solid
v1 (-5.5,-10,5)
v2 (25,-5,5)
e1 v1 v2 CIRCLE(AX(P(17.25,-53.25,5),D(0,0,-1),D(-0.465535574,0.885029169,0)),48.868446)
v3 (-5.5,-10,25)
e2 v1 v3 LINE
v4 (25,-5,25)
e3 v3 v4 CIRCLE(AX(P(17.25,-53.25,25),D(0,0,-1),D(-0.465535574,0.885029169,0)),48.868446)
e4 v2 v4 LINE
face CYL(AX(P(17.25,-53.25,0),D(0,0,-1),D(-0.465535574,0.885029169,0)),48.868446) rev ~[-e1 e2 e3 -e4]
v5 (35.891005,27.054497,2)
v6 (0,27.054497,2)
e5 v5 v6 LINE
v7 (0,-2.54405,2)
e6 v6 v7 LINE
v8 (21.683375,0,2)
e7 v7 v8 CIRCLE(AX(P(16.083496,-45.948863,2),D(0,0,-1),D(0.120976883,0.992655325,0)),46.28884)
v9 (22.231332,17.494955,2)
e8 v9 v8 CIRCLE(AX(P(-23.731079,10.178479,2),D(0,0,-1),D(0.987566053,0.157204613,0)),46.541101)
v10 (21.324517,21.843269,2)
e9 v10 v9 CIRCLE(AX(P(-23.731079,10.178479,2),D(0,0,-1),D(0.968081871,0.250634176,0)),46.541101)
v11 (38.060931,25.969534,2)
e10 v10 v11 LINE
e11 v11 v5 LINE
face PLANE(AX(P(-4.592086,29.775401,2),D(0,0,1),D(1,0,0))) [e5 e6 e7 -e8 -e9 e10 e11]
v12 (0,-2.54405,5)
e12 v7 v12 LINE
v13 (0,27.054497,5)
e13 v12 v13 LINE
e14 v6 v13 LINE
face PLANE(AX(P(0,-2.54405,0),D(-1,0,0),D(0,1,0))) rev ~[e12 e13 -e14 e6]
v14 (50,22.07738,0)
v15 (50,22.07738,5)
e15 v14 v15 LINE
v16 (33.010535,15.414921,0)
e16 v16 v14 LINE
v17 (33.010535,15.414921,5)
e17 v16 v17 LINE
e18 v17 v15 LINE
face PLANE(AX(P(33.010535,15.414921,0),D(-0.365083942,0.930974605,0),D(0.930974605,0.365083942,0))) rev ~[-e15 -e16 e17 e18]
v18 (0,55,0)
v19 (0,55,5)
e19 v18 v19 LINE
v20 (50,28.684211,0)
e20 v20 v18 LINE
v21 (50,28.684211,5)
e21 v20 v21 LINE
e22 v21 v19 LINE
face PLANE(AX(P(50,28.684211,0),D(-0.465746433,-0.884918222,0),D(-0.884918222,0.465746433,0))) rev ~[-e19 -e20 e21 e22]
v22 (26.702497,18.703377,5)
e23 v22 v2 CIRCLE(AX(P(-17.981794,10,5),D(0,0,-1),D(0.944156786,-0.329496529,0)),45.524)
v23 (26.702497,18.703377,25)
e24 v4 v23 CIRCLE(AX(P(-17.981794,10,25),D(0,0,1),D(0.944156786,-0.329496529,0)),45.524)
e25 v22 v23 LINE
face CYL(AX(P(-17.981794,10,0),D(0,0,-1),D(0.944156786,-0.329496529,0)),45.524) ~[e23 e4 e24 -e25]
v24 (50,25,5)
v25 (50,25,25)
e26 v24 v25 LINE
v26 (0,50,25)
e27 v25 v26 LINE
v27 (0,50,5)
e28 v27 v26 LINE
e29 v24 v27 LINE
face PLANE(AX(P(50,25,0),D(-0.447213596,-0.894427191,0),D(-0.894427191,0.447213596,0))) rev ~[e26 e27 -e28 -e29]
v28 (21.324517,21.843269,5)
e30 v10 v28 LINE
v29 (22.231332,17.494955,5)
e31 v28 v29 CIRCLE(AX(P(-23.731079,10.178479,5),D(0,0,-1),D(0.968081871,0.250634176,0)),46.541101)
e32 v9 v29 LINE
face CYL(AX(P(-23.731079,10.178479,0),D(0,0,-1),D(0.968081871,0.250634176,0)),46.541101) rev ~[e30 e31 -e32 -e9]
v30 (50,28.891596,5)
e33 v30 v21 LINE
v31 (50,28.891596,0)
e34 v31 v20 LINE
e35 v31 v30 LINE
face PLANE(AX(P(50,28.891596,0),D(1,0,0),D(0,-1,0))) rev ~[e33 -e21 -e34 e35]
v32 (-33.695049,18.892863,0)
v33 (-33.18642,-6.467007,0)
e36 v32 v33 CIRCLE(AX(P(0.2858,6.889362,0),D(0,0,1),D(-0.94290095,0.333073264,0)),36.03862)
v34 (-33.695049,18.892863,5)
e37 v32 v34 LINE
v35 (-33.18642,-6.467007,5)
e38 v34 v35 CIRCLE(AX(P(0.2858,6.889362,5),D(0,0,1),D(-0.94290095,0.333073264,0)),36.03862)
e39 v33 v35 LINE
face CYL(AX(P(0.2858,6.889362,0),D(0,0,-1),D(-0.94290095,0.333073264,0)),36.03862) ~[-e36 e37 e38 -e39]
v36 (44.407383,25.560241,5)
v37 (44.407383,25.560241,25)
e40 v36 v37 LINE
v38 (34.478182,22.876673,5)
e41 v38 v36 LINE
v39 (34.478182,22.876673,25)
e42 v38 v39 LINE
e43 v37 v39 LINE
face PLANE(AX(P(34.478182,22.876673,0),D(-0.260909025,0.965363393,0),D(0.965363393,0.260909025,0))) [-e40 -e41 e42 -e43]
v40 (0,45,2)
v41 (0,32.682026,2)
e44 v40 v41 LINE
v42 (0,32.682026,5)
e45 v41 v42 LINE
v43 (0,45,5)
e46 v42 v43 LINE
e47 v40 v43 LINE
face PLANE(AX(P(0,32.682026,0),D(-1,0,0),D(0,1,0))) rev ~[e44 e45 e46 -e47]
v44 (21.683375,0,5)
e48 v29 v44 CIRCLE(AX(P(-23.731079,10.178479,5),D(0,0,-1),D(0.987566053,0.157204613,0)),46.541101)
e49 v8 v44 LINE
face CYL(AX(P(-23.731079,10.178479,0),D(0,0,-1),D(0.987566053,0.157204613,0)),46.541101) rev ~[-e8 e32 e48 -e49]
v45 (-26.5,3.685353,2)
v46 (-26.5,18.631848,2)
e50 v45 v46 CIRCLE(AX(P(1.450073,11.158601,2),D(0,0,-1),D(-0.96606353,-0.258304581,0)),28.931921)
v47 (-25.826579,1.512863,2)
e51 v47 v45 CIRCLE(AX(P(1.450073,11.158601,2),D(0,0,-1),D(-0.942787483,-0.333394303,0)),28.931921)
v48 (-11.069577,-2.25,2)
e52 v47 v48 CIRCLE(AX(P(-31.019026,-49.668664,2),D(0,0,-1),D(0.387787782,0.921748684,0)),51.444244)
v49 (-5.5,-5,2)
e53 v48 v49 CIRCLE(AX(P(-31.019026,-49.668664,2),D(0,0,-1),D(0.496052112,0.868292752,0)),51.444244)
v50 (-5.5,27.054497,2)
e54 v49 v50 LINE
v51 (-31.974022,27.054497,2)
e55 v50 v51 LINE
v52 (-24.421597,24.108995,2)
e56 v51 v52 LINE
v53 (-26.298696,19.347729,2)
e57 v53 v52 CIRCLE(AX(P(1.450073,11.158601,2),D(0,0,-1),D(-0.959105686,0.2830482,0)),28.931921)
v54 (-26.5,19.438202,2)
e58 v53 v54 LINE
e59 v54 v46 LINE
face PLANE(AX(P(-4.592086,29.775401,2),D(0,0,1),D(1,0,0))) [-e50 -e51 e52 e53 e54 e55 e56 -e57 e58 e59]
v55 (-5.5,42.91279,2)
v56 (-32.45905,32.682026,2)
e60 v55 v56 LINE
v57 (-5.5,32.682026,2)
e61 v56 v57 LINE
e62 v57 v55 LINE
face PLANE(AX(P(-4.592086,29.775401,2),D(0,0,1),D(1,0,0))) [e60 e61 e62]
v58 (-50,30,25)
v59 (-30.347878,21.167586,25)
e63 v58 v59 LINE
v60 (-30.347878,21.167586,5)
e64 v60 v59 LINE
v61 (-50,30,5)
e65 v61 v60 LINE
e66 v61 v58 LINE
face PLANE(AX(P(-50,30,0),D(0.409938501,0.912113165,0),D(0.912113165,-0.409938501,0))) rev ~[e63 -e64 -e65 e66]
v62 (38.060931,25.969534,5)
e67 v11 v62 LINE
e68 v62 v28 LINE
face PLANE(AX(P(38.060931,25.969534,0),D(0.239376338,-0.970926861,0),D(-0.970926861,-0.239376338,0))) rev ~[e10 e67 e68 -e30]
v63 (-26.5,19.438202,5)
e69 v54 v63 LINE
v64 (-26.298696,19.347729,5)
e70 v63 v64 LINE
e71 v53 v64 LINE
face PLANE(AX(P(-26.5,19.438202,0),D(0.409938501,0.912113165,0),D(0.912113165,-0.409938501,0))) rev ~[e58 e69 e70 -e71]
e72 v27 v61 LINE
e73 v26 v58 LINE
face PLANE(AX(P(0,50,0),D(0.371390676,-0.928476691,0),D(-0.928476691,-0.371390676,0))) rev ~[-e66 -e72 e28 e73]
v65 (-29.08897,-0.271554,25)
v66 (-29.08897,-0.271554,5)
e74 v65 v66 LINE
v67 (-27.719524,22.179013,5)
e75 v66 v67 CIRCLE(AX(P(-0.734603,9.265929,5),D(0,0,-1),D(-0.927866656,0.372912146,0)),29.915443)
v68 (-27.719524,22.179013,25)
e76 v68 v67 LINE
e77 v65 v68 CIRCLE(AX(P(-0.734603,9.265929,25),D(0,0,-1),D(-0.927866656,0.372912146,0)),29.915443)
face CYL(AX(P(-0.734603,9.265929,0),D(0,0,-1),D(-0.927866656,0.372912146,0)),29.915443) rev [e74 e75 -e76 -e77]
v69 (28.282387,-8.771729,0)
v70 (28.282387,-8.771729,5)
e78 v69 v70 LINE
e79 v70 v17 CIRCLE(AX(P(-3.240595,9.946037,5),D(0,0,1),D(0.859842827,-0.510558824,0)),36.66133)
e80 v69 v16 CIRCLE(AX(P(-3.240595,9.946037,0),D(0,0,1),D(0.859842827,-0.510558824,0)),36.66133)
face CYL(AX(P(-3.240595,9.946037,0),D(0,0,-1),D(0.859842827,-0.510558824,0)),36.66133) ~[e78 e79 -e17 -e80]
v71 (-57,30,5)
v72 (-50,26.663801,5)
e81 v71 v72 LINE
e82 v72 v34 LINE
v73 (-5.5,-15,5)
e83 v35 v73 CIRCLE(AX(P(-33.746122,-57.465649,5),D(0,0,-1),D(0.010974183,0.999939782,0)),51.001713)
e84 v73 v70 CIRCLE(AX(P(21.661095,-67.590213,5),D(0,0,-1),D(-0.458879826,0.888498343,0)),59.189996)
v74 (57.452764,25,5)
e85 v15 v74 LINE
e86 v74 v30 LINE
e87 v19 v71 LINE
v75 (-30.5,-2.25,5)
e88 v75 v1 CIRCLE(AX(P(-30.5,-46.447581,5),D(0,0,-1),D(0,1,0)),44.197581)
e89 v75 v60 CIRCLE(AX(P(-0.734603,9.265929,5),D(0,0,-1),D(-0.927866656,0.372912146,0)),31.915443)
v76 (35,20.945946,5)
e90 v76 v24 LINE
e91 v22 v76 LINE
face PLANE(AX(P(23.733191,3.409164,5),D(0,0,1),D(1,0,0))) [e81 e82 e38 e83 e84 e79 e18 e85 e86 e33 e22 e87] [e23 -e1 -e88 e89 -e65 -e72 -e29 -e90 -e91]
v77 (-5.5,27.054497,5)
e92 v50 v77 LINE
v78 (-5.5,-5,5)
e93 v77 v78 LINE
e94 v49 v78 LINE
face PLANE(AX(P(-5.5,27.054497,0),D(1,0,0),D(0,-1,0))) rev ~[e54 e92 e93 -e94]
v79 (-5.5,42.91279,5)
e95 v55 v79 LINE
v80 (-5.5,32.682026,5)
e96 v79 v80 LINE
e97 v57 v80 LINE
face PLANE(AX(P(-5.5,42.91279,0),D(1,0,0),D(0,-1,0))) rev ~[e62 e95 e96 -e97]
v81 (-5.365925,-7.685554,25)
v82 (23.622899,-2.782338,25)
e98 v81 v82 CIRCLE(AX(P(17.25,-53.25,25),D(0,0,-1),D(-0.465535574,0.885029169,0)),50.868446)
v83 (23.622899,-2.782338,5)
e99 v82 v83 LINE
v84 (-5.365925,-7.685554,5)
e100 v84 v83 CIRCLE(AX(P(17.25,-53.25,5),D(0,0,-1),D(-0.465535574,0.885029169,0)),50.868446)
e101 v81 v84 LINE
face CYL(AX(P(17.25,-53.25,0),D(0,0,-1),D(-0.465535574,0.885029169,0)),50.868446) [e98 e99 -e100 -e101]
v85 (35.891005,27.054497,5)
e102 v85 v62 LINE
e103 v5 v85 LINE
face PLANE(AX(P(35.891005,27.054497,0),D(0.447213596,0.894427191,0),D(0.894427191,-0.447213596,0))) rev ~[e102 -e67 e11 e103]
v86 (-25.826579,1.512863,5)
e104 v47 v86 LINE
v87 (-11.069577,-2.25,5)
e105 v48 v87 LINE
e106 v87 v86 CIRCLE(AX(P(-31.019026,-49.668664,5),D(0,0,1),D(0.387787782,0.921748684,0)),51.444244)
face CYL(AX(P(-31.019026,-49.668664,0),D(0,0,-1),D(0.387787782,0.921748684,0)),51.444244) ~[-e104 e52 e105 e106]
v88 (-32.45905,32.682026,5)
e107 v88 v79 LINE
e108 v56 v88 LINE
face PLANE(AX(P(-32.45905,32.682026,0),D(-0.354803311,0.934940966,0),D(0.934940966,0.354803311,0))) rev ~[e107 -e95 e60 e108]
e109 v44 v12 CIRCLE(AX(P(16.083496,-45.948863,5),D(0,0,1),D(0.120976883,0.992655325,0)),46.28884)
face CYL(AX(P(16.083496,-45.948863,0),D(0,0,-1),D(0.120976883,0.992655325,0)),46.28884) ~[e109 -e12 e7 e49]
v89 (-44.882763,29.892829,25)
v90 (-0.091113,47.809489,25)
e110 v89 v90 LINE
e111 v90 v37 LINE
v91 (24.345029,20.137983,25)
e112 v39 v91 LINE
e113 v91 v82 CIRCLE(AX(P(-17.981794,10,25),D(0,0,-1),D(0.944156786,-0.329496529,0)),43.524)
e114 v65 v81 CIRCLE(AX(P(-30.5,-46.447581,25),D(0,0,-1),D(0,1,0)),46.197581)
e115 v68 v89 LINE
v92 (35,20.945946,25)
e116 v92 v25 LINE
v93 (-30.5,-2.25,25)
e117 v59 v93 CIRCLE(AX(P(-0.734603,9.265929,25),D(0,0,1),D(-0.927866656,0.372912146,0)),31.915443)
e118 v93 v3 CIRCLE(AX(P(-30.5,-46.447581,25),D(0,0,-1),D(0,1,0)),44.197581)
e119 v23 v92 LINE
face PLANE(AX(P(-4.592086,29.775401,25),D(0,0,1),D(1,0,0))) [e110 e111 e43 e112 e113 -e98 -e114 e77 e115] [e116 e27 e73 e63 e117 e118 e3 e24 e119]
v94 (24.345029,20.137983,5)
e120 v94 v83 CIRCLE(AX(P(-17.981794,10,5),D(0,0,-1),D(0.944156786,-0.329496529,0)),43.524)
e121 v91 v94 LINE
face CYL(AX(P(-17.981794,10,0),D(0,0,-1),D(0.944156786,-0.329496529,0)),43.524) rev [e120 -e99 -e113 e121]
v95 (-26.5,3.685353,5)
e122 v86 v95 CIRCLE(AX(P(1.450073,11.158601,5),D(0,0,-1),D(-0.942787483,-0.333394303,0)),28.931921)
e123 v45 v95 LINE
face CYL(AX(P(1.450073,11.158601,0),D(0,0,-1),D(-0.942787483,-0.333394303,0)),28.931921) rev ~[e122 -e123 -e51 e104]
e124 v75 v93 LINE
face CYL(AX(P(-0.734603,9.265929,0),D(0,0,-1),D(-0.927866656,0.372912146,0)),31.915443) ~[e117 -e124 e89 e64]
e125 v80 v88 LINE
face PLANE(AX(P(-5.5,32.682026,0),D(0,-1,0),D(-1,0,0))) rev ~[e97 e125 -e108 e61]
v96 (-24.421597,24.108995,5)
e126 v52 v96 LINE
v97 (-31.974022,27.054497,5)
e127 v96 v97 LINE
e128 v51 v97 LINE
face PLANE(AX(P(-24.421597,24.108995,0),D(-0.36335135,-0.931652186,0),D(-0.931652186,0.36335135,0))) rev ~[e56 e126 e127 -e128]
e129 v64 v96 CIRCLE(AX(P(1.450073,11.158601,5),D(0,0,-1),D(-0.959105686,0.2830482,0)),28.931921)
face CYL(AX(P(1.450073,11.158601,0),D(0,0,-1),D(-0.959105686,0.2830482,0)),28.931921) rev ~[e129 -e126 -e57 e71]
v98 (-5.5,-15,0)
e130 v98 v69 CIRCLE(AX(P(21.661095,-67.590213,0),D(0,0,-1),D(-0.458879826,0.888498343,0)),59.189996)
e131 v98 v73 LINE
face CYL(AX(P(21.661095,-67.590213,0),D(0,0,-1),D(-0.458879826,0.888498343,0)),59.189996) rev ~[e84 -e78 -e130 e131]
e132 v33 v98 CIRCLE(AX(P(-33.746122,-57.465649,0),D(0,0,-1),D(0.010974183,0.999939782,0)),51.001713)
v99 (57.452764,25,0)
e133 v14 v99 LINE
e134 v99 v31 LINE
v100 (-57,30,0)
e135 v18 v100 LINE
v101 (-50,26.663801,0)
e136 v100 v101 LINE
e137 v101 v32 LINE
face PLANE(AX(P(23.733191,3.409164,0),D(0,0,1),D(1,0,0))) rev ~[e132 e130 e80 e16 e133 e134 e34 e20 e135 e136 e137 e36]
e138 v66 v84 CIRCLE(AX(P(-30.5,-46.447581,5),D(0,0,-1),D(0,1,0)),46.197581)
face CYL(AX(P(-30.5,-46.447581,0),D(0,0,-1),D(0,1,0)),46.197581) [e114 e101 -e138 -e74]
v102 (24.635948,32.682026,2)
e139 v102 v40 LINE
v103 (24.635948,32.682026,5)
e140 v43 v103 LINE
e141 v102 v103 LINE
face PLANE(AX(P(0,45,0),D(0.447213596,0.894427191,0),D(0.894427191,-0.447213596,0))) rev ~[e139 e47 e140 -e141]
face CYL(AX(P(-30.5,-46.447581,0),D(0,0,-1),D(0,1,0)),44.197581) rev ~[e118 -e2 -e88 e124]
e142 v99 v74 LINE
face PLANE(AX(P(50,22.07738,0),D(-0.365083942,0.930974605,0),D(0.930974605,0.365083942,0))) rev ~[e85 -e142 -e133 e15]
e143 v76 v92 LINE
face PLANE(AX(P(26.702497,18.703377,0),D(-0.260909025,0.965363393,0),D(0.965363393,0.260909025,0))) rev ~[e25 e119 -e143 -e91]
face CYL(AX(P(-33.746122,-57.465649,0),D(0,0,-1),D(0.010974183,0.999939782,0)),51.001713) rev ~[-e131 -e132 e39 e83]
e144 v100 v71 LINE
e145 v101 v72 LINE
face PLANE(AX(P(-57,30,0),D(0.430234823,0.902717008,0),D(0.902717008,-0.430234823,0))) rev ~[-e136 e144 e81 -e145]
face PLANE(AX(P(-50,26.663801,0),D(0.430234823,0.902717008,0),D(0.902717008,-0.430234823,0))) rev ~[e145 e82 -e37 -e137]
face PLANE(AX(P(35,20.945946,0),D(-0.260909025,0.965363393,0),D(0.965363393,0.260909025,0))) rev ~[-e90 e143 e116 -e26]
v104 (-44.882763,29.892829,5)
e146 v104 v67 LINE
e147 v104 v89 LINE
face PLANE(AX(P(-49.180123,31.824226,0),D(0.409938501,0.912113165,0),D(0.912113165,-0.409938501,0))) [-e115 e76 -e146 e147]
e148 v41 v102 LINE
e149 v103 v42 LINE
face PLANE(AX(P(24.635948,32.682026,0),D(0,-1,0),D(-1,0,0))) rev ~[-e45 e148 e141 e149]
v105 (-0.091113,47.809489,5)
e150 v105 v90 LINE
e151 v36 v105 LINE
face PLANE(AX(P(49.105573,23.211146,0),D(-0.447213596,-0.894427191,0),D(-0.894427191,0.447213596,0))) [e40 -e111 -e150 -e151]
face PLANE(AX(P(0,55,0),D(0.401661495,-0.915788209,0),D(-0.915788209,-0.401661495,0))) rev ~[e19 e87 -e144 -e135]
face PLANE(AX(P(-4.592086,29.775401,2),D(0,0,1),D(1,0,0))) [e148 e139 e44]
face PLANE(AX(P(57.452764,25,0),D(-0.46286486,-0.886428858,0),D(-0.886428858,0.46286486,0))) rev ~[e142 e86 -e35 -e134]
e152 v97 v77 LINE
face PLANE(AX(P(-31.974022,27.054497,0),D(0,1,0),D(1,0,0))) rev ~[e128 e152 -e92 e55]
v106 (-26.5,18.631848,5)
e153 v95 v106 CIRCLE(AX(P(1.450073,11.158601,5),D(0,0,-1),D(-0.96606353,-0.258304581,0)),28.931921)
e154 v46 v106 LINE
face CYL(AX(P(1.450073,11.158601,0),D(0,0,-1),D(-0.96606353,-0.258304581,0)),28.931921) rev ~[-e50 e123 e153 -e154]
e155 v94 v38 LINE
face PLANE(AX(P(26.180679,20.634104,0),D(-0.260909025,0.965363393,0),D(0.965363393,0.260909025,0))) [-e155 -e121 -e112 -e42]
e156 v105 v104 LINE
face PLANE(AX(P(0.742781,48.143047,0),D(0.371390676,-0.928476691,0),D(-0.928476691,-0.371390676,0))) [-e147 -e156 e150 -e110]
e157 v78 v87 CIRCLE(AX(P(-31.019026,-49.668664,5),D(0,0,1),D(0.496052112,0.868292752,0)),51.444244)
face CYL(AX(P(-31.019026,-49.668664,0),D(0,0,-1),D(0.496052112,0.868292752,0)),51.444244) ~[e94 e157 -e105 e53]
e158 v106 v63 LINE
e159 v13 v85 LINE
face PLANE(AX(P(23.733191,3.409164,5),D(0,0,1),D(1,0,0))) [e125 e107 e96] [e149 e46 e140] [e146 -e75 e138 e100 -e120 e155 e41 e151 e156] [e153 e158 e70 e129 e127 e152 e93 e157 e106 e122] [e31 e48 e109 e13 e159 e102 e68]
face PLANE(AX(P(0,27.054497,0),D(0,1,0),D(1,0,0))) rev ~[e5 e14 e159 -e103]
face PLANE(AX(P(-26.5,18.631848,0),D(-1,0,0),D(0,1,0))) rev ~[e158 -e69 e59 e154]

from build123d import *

# Parameters (mm, degrees)
F1_DEPTH = 25
F2_T     = -2
F3_DEPTH = 5


with BuildPart() as f1:
    # F0 (on Top) → F1 (new body)
    with BuildSketch(Plane.XY):
        with BuildLine():
            Line((50, 25), (0, 50))
            Line((0, 50), (-50, 30))
            Line((-50, 30), (-30.3478781134, 21.1675856689))
            ThreePointArc((-30.3478781134, 21.1675856689), (-32.6493723673, 9.4732493681), (-30.5, -2.25))
            Line((-30.5, -2.25), (-26.5, -2.25))
            Line((-26.5, -2.25), (-26.5, 3.6853529656))
            ThreePointArc((-26.5, 3.6853529656), (-27.4818472664, 11.1586005985), (-26.5, 18.6318482313))
            Line((-26.5, 18.6318482313), (-26.5, 19.4382022472))
            Line((-26.5, 19.4382022472), (-26.2986962157, 19.3477286363))
            ThreePointArc((-26.2986962157, 19.3477286363), (-25.4656340579, 21.7699494798), (-24.4215968996, 24.1089947522))
            Line((-24.4215968996, 24.1089947522), (-31.9740222767, 27.0544973761))
            Line((-31.9740222767, 27.0544973761), (-39.5264476538, 30))
            Line((-39.5264476538, 30), (-32.4590496756, 32.6820262372))
            Line((-32.4590496756, 32.6820262372), (-5.5, 42.9127899192))
            Line((-5.5, 42.9127899192), (0, 45))
            Line((0, 45), (24.6359475255, 32.6820262372))
            Line((24.6359475255, 32.6820262372), (35.8910052478, 27.0544973761))
            Line((35.8910052478, 27.0544973761), (38.0609311461, 25.9695344269))
            Line((38.0609311461, 25.9695344269), (34.1284329528, 25))
            Line((34.1284329528, 25), (25.6717936096, 22.915065036))
            ThreePointArc((25.6717936096, 22.915065036), (26.2373168575, 20.8214995062), (26.7024967211, 18.7033774922))
            Line((26.7024967211, 18.7033774922), (35, 20.9459459459))
            Line((35, 20.9459459459), (50, 25))
        make_face()
        with BuildLine():
            Line((-26.5, 3.6853529656), (-26.5, -2.25))
            Line((-26.5, -2.25), (-11.0695765548, -2.25))
            ThreePointArc((-11.0695765548, -2.25), (-18.3080653559, 0.1805256036), (-25.8265792788, 1.5128631071))
            ThreePointArc((-25.8265792788, 1.5128631071), (-26.1846465442, 2.5924878985), (-26.5, 3.6853529656))
        make_face()
        with BuildLine():
            ThreePointArc((25, -5), (27.4252333214, 6.7386371679), (26.7024967211, 18.7033774922))
            Line((26.7024967211, 18.7033774922), (22.2313324849, 17.4949547256))
            ThreePointArc((22.2313324849, 17.4949547256), (22.7872104866, 8.7214855275), (21.6833752096, 0))
            ThreePointArc((21.6833752096, 0), (10.6895547346, 0.0246300535), (0, -2.5440495396))
            ThreePointArc((0, -2.5440495396), (-2.7899905559, -3.6824675653), (-5.5, -5))
            Line((-5.5, -5), (-5.5, -10))
            ThreePointArc((-5.5, -10), (9.3443058496, -5.0252656824), (25, -5))
        make_face()
        with BuildLine():
            Line((-26.5, -2.25), (-30.5, -2.25))
            ThreePointArc((-30.5, -2.25), (-17.4131506848, -4.2319376927), (-5.5, -10))
            Line((-5.5, -10), (-5.5, -5))
            ThreePointArc((-5.5, -5), (-8.2432452262, -3.5408628349), (-11.0695765548, -2.25))
            Line((-11.0695765548, -2.25), (-26.5, -2.25))
        make_face()
        with BuildLine():
            Line((-5.5, -2.25), (-11.0695765548, -2.25))
            ThreePointArc((-11.0695765548, -2.25), (-8.2432452262, -3.5408628349), (-5.5, -5))
            Line((-5.5, -5), (-5.5, -2.25))
        make_face()
        with BuildLine():
            Line((-5.5, -2.25), (-5.5, -5))
            ThreePointArc((-5.5, -5), (-2.7899905559, -3.6824675653), (0, -2.5440495396))
            Line((0, -2.5440495396), (0, 10))
            Line((0, 10), (0, 15))
            Line((0, 15), (0, 25))
            Line((0, 25), (0, 27.0544973761))
            Line((0, 27.0544973761), (0, 30))
            Line((0, 30), (0, 32.6820262372))
            Line((0, 32.6820262372), (0, 45))
            Line((0, 45), (-5.5, 42.9127899192))
            Line((-5.5, 42.9127899192), (-5.5, 32.6820262372))
            Line((-5.5, 32.6820262372), (-32.4590496756, 32.6820262372))
            Line((-32.4590496756, 32.6820262372), (-39.5264476538, 30))
            Line((-39.5264476538, 30), (-31.9740222767, 27.0544973761))
            Line((-31.9740222767, 27.0544973761), (-5.5, 27.0544973761))
            Line((-5.5, 27.0544973761), (-5.5, -2.25))
        make_face()
        with BuildLine():
            Line((21.3245172054, 21.8432694674), (25.6717936096, 22.915065036))
            Line((25.6717936096, 22.915065036), (34.1284329528, 25))
            Line((34.1284329528, 25), (38.0609311461, 25.9695344269))
            Line((38.0609311461, 25.9695344269), (35.8910052478, 27.0544973761))
            Line((35.8910052478, 27.0544973761), (0, 27.0544973761))
            Line((0, 27.0544973761), (0, 25))
            Line((0, 25), (0, 15))
            Line((0, 15), (0, 10))
            Line((0, 10), (0, -2.5440495396))
            ThreePointArc((0, -2.5440495396), (10.6895547346, 0.0246300535), (21.6833752096, 0))
            ThreePointArc((21.6833752096, 0), (22.7872104866, 8.7214855275), (22.2313324849, 17.4949547256))
            ThreePointArc((22.2313324849, 17.4949547256), (21.8298295871, 19.6799365229), (21.3245172054, 21.8432694674))
        make_face()
        with BuildLine():
            Line((22.2313324849, 17.4949547256), (26.7024967211, 18.7033774922))
            ThreePointArc((26.7024967211, 18.7033774922), (26.2373168575, 20.8214995062), (25.6717936096, 22.915065036))
            Line((25.6717936096, 22.915065036), (21.3245172054, 21.8432694674))
            ThreePointArc((21.3245172054, 21.8432694674), (21.8298295871, 19.6799365229), (22.2313324849, 17.4949547256))
        make_face()
        Polygon((0, 27.0544973761), (35.8910052478, 27.0544973761), (24.6359475255, 32.6820262372), (0, 32.6820262372), (0, 30), align=None)
        Polygon((0, 32.6820262372), (24.6359475255, 32.6820262372), (0, 45), align=None)
        Polygon((-5.5, 32.6820262372), (-5.5, 42.9127899192), (-32.4590496756, 32.6820262372), align=None)
        with BuildLine():
            ThreePointArc((-25.8265792788, 1.5128631071), (-18.3080653559, 0.1805256036), (-11.0695765548, -2.25))
            Line((-11.0695765548, -2.25), (-5.5, -2.25))
            Line((-5.5, -2.25), (-5.5, 27.0544973761))
            Line((-5.5, 27.0544973761), (-31.9740222767, 27.0544973761))
            Line((-31.9740222767, 27.0544973761), (-24.4215968996, 24.1089947522))
            ThreePointArc((-24.4215968996, 24.1089947522), (-25.4656340579, 21.7699494798), (-26.2986962157, 19.3477286363))
            ThreePointArc((-26.2986962157, 19.3477286363), (-26.4016482615, 18.9904352313), (-26.5, 18.6318482313))
            ThreePointArc((-26.5, 18.6318482313), (-27.4818472664, 11.1586005985), (-26.5, 3.6853529656))
            ThreePointArc((-26.5, 3.6853529656), (-26.1846465442, 2.5924878985), (-25.8265792788, 1.5128631071))
        make_face()
        with BuildLine():
            Line((-26.5, 19.4382022472), (-26.5, 18.6318482313))
            ThreePointArc((-26.5, 18.6318482313), (-26.4016482615, 18.9904352313), (-26.2986962157, 19.3477286363))
            Line((-26.2986962157, 19.3477286363), (-26.5, 19.4382022472))
        make_face()
    extrude(amount=F1_DEPTH)

    # F2
    f2_openings = [f1.faces().sort_by_distance(p)[0] for p in [
        (-1.454466, 20.176979, 25),
    ]]
    offset(amount=F2_T, openings=f2_openings, kind=Kind.INTERSECTION)

    # F0 (on Top) → F3 (join)
    with BuildSketch(Plane.XY):
        with BuildLine():
            Line((50, 22.0773804358), (50, 25))
            Line((50, 25), (35, 20.9459459459))
            Line((35, 20.9459459459), (26.7024967211, 18.7033774922))
            ThreePointArc((26.7024967211, 18.7033774922), (27.4252333214, 6.7386371679), (25, -5))
            ThreePointArc((25, -5), (9.3443058496, -5.0252656824), (-5.5, -10))
            Line((-5.5, -10), (-5.5, -15))
            ThreePointArc((-5.5, -15), (10.9294258994, -9.3812200513), (28.2823865676, -8.7717288371))
            ThreePointArc((28.2823865676, -8.7717288371), (32.739691971, 2.91239876), (33.0105349422, 15.4149206355))
            Line((33.0105349422, 15.4149206355), (50, 22.0773804358))
        make_face()
        Polygon((50, 28.6842105263), (9.5, 50), (0, 50), (50, 25), align=None)
        Polygon((0, 50), (9.5, 50), (0, 55), (-11.4, 50), align=None)
        Polygon((-50, 30), (0, 50), (-11.4, 50), (-50, 33.0701754386), align=None)
        Polygon((-50, 26.6638008012), (-50, 30), (-50, 33.0701754386), (-57, 30), align=None)
        with BuildLine():
            Line((-30.3478781134, 21.1675856689), (-50, 30))
            Line((-50, 30), (-50, 26.6638008012))
            Line((-50, 26.6638008012), (-33.6950486526, 18.8928628554))
            ThreePointArc((-33.6950486526, 18.8928628554), (-35.7455733347, 6.1667010563), (-33.1864199092, -6.467007004))
            ThreePointArc((-33.1864199092, -6.467007004), (-18.7245752181, -8.7262616008), (-5.5, -15))
            Line((-5.5, -15), (-5.5, -10))
            ThreePointArc((-5.5, -10), (-17.4131506848, -4.2319376927), (-30.5, -2.25))
            ThreePointArc((-30.5, -2.25), (-32.6493723673, 9.4732493681), (-30.3478781134, 21.1675856689))
        make_face()
        with BuildLine():
            ThreePointArc((25, -5), (27.4252333214, 6.7386371679), (26.7024967211, 18.7033774922))
            Line((26.7024967211, 18.7033774922), (22.2313324849, 17.4949547256))
            ThreePointArc((22.2313324849, 17.4949547256), (22.7872104866, 8.7214855275), (21.6833752096, 0))
            ThreePointArc((21.6833752096, 0), (10.6895547346, 0.0246300535), (0, -2.5440495396))
            ThreePointArc((0, -2.5440495396), (-2.7899905559, -3.6824675653), (-5.5, -5))
            Line((-5.5, -5), (-5.5, -10))
            ThreePointArc((-5.5, -10), (9.3443058496, -5.0252656824), (25, -5))
        make_face()
        with BuildLine():
            Line((-26.5, -2.25), (-30.5, -2.25))
            ThreePointArc((-30.5, -2.25), (-17.4131506848, -4.2319376927), (-5.5, -10))
            Line((-5.5, -10), (-5.5, -5))
            ThreePointArc((-5.5, -5), (-8.2432452262, -3.5408628349), (-11.0695765548, -2.25))
            Line((-11.0695765548, -2.25), (-26.5, -2.25))
        make_face()
        with BuildLine():
            Line((-26.5, 3.6853529656), (-26.5, -2.25))
            Line((-26.5, -2.25), (-11.0695765548, -2.25))
            ThreePointArc((-11.0695765548, -2.25), (-18.3080653559, 0.1805256036), (-25.8265792788, 1.5128631071))
            ThreePointArc((-25.8265792788, 1.5128631071), (-26.1846465442, 2.5924878985), (-26.5, 3.6853529656))
        make_face()
        with BuildLine():
            Line((50, 25), (0, 50))
            Line((0, 50), (-50, 30))
            Line((-50, 30), (-30.3478781134, 21.1675856689))
            ThreePointArc((-30.3478781134, 21.1675856689), (-32.6493723673, 9.4732493681), (-30.5, -2.25))
            Line((-30.5, -2.25), (-26.5, -2.25))
            Line((-26.5, -2.25), (-26.5, 3.6853529656))
            ThreePointArc((-26.5, 3.6853529656), (-27.4818472664, 11.1586005985), (-26.5, 18.6318482313))
            Line((-26.5, 18.6318482313), (-26.5, 19.4382022472))
            Line((-26.5, 19.4382022472), (-26.2986962157, 19.3477286363))
            ThreePointArc((-26.2986962157, 19.3477286363), (-25.4656340579, 21.7699494798), (-24.4215968996, 24.1089947522))
            Line((-24.4215968996, 24.1089947522), (-31.9740222767, 27.0544973761))
            Line((-31.9740222767, 27.0544973761), (-39.5264476538, 30))
            Line((-39.5264476538, 30), (-32.4590496756, 32.6820262372))
            Line((-32.4590496756, 32.6820262372), (-5.5, 42.9127899192))
            Line((-5.5, 42.9127899192), (0, 45))
            Line((0, 45), (24.6359475255, 32.6820262372))
            Line((24.6359475255, 32.6820262372), (35.8910052478, 27.0544973761))
            Line((35.8910052478, 27.0544973761), (38.0609311461, 25.9695344269))
            Line((38.0609311461, 25.9695344269), (34.1284329528, 25))
            Line((34.1284329528, 25), (25.6717936096, 22.915065036))
            ThreePointArc((25.6717936096, 22.915065036), (26.2373168575, 20.8214995062), (26.7024967211, 18.7033774922))
            Line((26.7024967211, 18.7033774922), (35, 20.9459459459))
            Line((35, 20.9459459459), (50, 25))
        make_face()
        with BuildLine():
            Line((22.2313324849, 17.4949547256), (26.7024967211, 18.7033774922))
            ThreePointArc((26.7024967211, 18.7033774922), (26.2373168575, 20.8214995062), (25.6717936096, 22.915065036))
            Line((25.6717936096, 22.915065036), (21.3245172054, 21.8432694674))
            ThreePointArc((21.3245172054, 21.8432694674), (21.8298295871, 19.6799365229), (22.2313324849, 17.4949547256))
        make_face()
        with BuildLine():
            Line((-5.5, -2.25), (-5.5, -5))
            ThreePointArc((-5.5, -5), (-2.7899905559, -3.6824675653), (0, -2.5440495396))
            Line((0, -2.5440495396), (0, 10))
            Line((0, 10), (0, 15))
            Line((0, 15), (0, 25))
            Line((0, 25), (0, 27.0544973761))
            Line((0, 27.0544973761), (0, 30))
            Line((0, 30), (0, 32.6820262372))
            Line((0, 32.6820262372), (0, 45))
            Line((0, 45), (-5.5, 42.9127899192))
            Line((-5.5, 42.9127899192), (-5.5, 32.6820262372))
            Line((-5.5, 32.6820262372), (-32.4590496756, 32.6820262372))
            Line((-32.4590496756, 32.6820262372), (-39.5264476538, 30))
            Line((-39.5264476538, 30), (-31.9740222767, 27.0544973761))
            Line((-31.9740222767, 27.0544973761), (-5.5, 27.0544973761))
            Line((-5.5, 27.0544973761), (-5.5, -2.25))
        make_face()
        Polygon((0, 27.0544973761), (35.8910052478, 27.0544973761), (24.6359475255, 32.6820262372), (0, 32.6820262372), (0, 30), align=None)
        Polygon((57.4527643621, 25), (50, 28.8915957021), (50, 28.6842105263), (50, 25), (50, 22.0773804358), align=None)
    extrude(amount=F3_DEPTH)


solid = f1.part
